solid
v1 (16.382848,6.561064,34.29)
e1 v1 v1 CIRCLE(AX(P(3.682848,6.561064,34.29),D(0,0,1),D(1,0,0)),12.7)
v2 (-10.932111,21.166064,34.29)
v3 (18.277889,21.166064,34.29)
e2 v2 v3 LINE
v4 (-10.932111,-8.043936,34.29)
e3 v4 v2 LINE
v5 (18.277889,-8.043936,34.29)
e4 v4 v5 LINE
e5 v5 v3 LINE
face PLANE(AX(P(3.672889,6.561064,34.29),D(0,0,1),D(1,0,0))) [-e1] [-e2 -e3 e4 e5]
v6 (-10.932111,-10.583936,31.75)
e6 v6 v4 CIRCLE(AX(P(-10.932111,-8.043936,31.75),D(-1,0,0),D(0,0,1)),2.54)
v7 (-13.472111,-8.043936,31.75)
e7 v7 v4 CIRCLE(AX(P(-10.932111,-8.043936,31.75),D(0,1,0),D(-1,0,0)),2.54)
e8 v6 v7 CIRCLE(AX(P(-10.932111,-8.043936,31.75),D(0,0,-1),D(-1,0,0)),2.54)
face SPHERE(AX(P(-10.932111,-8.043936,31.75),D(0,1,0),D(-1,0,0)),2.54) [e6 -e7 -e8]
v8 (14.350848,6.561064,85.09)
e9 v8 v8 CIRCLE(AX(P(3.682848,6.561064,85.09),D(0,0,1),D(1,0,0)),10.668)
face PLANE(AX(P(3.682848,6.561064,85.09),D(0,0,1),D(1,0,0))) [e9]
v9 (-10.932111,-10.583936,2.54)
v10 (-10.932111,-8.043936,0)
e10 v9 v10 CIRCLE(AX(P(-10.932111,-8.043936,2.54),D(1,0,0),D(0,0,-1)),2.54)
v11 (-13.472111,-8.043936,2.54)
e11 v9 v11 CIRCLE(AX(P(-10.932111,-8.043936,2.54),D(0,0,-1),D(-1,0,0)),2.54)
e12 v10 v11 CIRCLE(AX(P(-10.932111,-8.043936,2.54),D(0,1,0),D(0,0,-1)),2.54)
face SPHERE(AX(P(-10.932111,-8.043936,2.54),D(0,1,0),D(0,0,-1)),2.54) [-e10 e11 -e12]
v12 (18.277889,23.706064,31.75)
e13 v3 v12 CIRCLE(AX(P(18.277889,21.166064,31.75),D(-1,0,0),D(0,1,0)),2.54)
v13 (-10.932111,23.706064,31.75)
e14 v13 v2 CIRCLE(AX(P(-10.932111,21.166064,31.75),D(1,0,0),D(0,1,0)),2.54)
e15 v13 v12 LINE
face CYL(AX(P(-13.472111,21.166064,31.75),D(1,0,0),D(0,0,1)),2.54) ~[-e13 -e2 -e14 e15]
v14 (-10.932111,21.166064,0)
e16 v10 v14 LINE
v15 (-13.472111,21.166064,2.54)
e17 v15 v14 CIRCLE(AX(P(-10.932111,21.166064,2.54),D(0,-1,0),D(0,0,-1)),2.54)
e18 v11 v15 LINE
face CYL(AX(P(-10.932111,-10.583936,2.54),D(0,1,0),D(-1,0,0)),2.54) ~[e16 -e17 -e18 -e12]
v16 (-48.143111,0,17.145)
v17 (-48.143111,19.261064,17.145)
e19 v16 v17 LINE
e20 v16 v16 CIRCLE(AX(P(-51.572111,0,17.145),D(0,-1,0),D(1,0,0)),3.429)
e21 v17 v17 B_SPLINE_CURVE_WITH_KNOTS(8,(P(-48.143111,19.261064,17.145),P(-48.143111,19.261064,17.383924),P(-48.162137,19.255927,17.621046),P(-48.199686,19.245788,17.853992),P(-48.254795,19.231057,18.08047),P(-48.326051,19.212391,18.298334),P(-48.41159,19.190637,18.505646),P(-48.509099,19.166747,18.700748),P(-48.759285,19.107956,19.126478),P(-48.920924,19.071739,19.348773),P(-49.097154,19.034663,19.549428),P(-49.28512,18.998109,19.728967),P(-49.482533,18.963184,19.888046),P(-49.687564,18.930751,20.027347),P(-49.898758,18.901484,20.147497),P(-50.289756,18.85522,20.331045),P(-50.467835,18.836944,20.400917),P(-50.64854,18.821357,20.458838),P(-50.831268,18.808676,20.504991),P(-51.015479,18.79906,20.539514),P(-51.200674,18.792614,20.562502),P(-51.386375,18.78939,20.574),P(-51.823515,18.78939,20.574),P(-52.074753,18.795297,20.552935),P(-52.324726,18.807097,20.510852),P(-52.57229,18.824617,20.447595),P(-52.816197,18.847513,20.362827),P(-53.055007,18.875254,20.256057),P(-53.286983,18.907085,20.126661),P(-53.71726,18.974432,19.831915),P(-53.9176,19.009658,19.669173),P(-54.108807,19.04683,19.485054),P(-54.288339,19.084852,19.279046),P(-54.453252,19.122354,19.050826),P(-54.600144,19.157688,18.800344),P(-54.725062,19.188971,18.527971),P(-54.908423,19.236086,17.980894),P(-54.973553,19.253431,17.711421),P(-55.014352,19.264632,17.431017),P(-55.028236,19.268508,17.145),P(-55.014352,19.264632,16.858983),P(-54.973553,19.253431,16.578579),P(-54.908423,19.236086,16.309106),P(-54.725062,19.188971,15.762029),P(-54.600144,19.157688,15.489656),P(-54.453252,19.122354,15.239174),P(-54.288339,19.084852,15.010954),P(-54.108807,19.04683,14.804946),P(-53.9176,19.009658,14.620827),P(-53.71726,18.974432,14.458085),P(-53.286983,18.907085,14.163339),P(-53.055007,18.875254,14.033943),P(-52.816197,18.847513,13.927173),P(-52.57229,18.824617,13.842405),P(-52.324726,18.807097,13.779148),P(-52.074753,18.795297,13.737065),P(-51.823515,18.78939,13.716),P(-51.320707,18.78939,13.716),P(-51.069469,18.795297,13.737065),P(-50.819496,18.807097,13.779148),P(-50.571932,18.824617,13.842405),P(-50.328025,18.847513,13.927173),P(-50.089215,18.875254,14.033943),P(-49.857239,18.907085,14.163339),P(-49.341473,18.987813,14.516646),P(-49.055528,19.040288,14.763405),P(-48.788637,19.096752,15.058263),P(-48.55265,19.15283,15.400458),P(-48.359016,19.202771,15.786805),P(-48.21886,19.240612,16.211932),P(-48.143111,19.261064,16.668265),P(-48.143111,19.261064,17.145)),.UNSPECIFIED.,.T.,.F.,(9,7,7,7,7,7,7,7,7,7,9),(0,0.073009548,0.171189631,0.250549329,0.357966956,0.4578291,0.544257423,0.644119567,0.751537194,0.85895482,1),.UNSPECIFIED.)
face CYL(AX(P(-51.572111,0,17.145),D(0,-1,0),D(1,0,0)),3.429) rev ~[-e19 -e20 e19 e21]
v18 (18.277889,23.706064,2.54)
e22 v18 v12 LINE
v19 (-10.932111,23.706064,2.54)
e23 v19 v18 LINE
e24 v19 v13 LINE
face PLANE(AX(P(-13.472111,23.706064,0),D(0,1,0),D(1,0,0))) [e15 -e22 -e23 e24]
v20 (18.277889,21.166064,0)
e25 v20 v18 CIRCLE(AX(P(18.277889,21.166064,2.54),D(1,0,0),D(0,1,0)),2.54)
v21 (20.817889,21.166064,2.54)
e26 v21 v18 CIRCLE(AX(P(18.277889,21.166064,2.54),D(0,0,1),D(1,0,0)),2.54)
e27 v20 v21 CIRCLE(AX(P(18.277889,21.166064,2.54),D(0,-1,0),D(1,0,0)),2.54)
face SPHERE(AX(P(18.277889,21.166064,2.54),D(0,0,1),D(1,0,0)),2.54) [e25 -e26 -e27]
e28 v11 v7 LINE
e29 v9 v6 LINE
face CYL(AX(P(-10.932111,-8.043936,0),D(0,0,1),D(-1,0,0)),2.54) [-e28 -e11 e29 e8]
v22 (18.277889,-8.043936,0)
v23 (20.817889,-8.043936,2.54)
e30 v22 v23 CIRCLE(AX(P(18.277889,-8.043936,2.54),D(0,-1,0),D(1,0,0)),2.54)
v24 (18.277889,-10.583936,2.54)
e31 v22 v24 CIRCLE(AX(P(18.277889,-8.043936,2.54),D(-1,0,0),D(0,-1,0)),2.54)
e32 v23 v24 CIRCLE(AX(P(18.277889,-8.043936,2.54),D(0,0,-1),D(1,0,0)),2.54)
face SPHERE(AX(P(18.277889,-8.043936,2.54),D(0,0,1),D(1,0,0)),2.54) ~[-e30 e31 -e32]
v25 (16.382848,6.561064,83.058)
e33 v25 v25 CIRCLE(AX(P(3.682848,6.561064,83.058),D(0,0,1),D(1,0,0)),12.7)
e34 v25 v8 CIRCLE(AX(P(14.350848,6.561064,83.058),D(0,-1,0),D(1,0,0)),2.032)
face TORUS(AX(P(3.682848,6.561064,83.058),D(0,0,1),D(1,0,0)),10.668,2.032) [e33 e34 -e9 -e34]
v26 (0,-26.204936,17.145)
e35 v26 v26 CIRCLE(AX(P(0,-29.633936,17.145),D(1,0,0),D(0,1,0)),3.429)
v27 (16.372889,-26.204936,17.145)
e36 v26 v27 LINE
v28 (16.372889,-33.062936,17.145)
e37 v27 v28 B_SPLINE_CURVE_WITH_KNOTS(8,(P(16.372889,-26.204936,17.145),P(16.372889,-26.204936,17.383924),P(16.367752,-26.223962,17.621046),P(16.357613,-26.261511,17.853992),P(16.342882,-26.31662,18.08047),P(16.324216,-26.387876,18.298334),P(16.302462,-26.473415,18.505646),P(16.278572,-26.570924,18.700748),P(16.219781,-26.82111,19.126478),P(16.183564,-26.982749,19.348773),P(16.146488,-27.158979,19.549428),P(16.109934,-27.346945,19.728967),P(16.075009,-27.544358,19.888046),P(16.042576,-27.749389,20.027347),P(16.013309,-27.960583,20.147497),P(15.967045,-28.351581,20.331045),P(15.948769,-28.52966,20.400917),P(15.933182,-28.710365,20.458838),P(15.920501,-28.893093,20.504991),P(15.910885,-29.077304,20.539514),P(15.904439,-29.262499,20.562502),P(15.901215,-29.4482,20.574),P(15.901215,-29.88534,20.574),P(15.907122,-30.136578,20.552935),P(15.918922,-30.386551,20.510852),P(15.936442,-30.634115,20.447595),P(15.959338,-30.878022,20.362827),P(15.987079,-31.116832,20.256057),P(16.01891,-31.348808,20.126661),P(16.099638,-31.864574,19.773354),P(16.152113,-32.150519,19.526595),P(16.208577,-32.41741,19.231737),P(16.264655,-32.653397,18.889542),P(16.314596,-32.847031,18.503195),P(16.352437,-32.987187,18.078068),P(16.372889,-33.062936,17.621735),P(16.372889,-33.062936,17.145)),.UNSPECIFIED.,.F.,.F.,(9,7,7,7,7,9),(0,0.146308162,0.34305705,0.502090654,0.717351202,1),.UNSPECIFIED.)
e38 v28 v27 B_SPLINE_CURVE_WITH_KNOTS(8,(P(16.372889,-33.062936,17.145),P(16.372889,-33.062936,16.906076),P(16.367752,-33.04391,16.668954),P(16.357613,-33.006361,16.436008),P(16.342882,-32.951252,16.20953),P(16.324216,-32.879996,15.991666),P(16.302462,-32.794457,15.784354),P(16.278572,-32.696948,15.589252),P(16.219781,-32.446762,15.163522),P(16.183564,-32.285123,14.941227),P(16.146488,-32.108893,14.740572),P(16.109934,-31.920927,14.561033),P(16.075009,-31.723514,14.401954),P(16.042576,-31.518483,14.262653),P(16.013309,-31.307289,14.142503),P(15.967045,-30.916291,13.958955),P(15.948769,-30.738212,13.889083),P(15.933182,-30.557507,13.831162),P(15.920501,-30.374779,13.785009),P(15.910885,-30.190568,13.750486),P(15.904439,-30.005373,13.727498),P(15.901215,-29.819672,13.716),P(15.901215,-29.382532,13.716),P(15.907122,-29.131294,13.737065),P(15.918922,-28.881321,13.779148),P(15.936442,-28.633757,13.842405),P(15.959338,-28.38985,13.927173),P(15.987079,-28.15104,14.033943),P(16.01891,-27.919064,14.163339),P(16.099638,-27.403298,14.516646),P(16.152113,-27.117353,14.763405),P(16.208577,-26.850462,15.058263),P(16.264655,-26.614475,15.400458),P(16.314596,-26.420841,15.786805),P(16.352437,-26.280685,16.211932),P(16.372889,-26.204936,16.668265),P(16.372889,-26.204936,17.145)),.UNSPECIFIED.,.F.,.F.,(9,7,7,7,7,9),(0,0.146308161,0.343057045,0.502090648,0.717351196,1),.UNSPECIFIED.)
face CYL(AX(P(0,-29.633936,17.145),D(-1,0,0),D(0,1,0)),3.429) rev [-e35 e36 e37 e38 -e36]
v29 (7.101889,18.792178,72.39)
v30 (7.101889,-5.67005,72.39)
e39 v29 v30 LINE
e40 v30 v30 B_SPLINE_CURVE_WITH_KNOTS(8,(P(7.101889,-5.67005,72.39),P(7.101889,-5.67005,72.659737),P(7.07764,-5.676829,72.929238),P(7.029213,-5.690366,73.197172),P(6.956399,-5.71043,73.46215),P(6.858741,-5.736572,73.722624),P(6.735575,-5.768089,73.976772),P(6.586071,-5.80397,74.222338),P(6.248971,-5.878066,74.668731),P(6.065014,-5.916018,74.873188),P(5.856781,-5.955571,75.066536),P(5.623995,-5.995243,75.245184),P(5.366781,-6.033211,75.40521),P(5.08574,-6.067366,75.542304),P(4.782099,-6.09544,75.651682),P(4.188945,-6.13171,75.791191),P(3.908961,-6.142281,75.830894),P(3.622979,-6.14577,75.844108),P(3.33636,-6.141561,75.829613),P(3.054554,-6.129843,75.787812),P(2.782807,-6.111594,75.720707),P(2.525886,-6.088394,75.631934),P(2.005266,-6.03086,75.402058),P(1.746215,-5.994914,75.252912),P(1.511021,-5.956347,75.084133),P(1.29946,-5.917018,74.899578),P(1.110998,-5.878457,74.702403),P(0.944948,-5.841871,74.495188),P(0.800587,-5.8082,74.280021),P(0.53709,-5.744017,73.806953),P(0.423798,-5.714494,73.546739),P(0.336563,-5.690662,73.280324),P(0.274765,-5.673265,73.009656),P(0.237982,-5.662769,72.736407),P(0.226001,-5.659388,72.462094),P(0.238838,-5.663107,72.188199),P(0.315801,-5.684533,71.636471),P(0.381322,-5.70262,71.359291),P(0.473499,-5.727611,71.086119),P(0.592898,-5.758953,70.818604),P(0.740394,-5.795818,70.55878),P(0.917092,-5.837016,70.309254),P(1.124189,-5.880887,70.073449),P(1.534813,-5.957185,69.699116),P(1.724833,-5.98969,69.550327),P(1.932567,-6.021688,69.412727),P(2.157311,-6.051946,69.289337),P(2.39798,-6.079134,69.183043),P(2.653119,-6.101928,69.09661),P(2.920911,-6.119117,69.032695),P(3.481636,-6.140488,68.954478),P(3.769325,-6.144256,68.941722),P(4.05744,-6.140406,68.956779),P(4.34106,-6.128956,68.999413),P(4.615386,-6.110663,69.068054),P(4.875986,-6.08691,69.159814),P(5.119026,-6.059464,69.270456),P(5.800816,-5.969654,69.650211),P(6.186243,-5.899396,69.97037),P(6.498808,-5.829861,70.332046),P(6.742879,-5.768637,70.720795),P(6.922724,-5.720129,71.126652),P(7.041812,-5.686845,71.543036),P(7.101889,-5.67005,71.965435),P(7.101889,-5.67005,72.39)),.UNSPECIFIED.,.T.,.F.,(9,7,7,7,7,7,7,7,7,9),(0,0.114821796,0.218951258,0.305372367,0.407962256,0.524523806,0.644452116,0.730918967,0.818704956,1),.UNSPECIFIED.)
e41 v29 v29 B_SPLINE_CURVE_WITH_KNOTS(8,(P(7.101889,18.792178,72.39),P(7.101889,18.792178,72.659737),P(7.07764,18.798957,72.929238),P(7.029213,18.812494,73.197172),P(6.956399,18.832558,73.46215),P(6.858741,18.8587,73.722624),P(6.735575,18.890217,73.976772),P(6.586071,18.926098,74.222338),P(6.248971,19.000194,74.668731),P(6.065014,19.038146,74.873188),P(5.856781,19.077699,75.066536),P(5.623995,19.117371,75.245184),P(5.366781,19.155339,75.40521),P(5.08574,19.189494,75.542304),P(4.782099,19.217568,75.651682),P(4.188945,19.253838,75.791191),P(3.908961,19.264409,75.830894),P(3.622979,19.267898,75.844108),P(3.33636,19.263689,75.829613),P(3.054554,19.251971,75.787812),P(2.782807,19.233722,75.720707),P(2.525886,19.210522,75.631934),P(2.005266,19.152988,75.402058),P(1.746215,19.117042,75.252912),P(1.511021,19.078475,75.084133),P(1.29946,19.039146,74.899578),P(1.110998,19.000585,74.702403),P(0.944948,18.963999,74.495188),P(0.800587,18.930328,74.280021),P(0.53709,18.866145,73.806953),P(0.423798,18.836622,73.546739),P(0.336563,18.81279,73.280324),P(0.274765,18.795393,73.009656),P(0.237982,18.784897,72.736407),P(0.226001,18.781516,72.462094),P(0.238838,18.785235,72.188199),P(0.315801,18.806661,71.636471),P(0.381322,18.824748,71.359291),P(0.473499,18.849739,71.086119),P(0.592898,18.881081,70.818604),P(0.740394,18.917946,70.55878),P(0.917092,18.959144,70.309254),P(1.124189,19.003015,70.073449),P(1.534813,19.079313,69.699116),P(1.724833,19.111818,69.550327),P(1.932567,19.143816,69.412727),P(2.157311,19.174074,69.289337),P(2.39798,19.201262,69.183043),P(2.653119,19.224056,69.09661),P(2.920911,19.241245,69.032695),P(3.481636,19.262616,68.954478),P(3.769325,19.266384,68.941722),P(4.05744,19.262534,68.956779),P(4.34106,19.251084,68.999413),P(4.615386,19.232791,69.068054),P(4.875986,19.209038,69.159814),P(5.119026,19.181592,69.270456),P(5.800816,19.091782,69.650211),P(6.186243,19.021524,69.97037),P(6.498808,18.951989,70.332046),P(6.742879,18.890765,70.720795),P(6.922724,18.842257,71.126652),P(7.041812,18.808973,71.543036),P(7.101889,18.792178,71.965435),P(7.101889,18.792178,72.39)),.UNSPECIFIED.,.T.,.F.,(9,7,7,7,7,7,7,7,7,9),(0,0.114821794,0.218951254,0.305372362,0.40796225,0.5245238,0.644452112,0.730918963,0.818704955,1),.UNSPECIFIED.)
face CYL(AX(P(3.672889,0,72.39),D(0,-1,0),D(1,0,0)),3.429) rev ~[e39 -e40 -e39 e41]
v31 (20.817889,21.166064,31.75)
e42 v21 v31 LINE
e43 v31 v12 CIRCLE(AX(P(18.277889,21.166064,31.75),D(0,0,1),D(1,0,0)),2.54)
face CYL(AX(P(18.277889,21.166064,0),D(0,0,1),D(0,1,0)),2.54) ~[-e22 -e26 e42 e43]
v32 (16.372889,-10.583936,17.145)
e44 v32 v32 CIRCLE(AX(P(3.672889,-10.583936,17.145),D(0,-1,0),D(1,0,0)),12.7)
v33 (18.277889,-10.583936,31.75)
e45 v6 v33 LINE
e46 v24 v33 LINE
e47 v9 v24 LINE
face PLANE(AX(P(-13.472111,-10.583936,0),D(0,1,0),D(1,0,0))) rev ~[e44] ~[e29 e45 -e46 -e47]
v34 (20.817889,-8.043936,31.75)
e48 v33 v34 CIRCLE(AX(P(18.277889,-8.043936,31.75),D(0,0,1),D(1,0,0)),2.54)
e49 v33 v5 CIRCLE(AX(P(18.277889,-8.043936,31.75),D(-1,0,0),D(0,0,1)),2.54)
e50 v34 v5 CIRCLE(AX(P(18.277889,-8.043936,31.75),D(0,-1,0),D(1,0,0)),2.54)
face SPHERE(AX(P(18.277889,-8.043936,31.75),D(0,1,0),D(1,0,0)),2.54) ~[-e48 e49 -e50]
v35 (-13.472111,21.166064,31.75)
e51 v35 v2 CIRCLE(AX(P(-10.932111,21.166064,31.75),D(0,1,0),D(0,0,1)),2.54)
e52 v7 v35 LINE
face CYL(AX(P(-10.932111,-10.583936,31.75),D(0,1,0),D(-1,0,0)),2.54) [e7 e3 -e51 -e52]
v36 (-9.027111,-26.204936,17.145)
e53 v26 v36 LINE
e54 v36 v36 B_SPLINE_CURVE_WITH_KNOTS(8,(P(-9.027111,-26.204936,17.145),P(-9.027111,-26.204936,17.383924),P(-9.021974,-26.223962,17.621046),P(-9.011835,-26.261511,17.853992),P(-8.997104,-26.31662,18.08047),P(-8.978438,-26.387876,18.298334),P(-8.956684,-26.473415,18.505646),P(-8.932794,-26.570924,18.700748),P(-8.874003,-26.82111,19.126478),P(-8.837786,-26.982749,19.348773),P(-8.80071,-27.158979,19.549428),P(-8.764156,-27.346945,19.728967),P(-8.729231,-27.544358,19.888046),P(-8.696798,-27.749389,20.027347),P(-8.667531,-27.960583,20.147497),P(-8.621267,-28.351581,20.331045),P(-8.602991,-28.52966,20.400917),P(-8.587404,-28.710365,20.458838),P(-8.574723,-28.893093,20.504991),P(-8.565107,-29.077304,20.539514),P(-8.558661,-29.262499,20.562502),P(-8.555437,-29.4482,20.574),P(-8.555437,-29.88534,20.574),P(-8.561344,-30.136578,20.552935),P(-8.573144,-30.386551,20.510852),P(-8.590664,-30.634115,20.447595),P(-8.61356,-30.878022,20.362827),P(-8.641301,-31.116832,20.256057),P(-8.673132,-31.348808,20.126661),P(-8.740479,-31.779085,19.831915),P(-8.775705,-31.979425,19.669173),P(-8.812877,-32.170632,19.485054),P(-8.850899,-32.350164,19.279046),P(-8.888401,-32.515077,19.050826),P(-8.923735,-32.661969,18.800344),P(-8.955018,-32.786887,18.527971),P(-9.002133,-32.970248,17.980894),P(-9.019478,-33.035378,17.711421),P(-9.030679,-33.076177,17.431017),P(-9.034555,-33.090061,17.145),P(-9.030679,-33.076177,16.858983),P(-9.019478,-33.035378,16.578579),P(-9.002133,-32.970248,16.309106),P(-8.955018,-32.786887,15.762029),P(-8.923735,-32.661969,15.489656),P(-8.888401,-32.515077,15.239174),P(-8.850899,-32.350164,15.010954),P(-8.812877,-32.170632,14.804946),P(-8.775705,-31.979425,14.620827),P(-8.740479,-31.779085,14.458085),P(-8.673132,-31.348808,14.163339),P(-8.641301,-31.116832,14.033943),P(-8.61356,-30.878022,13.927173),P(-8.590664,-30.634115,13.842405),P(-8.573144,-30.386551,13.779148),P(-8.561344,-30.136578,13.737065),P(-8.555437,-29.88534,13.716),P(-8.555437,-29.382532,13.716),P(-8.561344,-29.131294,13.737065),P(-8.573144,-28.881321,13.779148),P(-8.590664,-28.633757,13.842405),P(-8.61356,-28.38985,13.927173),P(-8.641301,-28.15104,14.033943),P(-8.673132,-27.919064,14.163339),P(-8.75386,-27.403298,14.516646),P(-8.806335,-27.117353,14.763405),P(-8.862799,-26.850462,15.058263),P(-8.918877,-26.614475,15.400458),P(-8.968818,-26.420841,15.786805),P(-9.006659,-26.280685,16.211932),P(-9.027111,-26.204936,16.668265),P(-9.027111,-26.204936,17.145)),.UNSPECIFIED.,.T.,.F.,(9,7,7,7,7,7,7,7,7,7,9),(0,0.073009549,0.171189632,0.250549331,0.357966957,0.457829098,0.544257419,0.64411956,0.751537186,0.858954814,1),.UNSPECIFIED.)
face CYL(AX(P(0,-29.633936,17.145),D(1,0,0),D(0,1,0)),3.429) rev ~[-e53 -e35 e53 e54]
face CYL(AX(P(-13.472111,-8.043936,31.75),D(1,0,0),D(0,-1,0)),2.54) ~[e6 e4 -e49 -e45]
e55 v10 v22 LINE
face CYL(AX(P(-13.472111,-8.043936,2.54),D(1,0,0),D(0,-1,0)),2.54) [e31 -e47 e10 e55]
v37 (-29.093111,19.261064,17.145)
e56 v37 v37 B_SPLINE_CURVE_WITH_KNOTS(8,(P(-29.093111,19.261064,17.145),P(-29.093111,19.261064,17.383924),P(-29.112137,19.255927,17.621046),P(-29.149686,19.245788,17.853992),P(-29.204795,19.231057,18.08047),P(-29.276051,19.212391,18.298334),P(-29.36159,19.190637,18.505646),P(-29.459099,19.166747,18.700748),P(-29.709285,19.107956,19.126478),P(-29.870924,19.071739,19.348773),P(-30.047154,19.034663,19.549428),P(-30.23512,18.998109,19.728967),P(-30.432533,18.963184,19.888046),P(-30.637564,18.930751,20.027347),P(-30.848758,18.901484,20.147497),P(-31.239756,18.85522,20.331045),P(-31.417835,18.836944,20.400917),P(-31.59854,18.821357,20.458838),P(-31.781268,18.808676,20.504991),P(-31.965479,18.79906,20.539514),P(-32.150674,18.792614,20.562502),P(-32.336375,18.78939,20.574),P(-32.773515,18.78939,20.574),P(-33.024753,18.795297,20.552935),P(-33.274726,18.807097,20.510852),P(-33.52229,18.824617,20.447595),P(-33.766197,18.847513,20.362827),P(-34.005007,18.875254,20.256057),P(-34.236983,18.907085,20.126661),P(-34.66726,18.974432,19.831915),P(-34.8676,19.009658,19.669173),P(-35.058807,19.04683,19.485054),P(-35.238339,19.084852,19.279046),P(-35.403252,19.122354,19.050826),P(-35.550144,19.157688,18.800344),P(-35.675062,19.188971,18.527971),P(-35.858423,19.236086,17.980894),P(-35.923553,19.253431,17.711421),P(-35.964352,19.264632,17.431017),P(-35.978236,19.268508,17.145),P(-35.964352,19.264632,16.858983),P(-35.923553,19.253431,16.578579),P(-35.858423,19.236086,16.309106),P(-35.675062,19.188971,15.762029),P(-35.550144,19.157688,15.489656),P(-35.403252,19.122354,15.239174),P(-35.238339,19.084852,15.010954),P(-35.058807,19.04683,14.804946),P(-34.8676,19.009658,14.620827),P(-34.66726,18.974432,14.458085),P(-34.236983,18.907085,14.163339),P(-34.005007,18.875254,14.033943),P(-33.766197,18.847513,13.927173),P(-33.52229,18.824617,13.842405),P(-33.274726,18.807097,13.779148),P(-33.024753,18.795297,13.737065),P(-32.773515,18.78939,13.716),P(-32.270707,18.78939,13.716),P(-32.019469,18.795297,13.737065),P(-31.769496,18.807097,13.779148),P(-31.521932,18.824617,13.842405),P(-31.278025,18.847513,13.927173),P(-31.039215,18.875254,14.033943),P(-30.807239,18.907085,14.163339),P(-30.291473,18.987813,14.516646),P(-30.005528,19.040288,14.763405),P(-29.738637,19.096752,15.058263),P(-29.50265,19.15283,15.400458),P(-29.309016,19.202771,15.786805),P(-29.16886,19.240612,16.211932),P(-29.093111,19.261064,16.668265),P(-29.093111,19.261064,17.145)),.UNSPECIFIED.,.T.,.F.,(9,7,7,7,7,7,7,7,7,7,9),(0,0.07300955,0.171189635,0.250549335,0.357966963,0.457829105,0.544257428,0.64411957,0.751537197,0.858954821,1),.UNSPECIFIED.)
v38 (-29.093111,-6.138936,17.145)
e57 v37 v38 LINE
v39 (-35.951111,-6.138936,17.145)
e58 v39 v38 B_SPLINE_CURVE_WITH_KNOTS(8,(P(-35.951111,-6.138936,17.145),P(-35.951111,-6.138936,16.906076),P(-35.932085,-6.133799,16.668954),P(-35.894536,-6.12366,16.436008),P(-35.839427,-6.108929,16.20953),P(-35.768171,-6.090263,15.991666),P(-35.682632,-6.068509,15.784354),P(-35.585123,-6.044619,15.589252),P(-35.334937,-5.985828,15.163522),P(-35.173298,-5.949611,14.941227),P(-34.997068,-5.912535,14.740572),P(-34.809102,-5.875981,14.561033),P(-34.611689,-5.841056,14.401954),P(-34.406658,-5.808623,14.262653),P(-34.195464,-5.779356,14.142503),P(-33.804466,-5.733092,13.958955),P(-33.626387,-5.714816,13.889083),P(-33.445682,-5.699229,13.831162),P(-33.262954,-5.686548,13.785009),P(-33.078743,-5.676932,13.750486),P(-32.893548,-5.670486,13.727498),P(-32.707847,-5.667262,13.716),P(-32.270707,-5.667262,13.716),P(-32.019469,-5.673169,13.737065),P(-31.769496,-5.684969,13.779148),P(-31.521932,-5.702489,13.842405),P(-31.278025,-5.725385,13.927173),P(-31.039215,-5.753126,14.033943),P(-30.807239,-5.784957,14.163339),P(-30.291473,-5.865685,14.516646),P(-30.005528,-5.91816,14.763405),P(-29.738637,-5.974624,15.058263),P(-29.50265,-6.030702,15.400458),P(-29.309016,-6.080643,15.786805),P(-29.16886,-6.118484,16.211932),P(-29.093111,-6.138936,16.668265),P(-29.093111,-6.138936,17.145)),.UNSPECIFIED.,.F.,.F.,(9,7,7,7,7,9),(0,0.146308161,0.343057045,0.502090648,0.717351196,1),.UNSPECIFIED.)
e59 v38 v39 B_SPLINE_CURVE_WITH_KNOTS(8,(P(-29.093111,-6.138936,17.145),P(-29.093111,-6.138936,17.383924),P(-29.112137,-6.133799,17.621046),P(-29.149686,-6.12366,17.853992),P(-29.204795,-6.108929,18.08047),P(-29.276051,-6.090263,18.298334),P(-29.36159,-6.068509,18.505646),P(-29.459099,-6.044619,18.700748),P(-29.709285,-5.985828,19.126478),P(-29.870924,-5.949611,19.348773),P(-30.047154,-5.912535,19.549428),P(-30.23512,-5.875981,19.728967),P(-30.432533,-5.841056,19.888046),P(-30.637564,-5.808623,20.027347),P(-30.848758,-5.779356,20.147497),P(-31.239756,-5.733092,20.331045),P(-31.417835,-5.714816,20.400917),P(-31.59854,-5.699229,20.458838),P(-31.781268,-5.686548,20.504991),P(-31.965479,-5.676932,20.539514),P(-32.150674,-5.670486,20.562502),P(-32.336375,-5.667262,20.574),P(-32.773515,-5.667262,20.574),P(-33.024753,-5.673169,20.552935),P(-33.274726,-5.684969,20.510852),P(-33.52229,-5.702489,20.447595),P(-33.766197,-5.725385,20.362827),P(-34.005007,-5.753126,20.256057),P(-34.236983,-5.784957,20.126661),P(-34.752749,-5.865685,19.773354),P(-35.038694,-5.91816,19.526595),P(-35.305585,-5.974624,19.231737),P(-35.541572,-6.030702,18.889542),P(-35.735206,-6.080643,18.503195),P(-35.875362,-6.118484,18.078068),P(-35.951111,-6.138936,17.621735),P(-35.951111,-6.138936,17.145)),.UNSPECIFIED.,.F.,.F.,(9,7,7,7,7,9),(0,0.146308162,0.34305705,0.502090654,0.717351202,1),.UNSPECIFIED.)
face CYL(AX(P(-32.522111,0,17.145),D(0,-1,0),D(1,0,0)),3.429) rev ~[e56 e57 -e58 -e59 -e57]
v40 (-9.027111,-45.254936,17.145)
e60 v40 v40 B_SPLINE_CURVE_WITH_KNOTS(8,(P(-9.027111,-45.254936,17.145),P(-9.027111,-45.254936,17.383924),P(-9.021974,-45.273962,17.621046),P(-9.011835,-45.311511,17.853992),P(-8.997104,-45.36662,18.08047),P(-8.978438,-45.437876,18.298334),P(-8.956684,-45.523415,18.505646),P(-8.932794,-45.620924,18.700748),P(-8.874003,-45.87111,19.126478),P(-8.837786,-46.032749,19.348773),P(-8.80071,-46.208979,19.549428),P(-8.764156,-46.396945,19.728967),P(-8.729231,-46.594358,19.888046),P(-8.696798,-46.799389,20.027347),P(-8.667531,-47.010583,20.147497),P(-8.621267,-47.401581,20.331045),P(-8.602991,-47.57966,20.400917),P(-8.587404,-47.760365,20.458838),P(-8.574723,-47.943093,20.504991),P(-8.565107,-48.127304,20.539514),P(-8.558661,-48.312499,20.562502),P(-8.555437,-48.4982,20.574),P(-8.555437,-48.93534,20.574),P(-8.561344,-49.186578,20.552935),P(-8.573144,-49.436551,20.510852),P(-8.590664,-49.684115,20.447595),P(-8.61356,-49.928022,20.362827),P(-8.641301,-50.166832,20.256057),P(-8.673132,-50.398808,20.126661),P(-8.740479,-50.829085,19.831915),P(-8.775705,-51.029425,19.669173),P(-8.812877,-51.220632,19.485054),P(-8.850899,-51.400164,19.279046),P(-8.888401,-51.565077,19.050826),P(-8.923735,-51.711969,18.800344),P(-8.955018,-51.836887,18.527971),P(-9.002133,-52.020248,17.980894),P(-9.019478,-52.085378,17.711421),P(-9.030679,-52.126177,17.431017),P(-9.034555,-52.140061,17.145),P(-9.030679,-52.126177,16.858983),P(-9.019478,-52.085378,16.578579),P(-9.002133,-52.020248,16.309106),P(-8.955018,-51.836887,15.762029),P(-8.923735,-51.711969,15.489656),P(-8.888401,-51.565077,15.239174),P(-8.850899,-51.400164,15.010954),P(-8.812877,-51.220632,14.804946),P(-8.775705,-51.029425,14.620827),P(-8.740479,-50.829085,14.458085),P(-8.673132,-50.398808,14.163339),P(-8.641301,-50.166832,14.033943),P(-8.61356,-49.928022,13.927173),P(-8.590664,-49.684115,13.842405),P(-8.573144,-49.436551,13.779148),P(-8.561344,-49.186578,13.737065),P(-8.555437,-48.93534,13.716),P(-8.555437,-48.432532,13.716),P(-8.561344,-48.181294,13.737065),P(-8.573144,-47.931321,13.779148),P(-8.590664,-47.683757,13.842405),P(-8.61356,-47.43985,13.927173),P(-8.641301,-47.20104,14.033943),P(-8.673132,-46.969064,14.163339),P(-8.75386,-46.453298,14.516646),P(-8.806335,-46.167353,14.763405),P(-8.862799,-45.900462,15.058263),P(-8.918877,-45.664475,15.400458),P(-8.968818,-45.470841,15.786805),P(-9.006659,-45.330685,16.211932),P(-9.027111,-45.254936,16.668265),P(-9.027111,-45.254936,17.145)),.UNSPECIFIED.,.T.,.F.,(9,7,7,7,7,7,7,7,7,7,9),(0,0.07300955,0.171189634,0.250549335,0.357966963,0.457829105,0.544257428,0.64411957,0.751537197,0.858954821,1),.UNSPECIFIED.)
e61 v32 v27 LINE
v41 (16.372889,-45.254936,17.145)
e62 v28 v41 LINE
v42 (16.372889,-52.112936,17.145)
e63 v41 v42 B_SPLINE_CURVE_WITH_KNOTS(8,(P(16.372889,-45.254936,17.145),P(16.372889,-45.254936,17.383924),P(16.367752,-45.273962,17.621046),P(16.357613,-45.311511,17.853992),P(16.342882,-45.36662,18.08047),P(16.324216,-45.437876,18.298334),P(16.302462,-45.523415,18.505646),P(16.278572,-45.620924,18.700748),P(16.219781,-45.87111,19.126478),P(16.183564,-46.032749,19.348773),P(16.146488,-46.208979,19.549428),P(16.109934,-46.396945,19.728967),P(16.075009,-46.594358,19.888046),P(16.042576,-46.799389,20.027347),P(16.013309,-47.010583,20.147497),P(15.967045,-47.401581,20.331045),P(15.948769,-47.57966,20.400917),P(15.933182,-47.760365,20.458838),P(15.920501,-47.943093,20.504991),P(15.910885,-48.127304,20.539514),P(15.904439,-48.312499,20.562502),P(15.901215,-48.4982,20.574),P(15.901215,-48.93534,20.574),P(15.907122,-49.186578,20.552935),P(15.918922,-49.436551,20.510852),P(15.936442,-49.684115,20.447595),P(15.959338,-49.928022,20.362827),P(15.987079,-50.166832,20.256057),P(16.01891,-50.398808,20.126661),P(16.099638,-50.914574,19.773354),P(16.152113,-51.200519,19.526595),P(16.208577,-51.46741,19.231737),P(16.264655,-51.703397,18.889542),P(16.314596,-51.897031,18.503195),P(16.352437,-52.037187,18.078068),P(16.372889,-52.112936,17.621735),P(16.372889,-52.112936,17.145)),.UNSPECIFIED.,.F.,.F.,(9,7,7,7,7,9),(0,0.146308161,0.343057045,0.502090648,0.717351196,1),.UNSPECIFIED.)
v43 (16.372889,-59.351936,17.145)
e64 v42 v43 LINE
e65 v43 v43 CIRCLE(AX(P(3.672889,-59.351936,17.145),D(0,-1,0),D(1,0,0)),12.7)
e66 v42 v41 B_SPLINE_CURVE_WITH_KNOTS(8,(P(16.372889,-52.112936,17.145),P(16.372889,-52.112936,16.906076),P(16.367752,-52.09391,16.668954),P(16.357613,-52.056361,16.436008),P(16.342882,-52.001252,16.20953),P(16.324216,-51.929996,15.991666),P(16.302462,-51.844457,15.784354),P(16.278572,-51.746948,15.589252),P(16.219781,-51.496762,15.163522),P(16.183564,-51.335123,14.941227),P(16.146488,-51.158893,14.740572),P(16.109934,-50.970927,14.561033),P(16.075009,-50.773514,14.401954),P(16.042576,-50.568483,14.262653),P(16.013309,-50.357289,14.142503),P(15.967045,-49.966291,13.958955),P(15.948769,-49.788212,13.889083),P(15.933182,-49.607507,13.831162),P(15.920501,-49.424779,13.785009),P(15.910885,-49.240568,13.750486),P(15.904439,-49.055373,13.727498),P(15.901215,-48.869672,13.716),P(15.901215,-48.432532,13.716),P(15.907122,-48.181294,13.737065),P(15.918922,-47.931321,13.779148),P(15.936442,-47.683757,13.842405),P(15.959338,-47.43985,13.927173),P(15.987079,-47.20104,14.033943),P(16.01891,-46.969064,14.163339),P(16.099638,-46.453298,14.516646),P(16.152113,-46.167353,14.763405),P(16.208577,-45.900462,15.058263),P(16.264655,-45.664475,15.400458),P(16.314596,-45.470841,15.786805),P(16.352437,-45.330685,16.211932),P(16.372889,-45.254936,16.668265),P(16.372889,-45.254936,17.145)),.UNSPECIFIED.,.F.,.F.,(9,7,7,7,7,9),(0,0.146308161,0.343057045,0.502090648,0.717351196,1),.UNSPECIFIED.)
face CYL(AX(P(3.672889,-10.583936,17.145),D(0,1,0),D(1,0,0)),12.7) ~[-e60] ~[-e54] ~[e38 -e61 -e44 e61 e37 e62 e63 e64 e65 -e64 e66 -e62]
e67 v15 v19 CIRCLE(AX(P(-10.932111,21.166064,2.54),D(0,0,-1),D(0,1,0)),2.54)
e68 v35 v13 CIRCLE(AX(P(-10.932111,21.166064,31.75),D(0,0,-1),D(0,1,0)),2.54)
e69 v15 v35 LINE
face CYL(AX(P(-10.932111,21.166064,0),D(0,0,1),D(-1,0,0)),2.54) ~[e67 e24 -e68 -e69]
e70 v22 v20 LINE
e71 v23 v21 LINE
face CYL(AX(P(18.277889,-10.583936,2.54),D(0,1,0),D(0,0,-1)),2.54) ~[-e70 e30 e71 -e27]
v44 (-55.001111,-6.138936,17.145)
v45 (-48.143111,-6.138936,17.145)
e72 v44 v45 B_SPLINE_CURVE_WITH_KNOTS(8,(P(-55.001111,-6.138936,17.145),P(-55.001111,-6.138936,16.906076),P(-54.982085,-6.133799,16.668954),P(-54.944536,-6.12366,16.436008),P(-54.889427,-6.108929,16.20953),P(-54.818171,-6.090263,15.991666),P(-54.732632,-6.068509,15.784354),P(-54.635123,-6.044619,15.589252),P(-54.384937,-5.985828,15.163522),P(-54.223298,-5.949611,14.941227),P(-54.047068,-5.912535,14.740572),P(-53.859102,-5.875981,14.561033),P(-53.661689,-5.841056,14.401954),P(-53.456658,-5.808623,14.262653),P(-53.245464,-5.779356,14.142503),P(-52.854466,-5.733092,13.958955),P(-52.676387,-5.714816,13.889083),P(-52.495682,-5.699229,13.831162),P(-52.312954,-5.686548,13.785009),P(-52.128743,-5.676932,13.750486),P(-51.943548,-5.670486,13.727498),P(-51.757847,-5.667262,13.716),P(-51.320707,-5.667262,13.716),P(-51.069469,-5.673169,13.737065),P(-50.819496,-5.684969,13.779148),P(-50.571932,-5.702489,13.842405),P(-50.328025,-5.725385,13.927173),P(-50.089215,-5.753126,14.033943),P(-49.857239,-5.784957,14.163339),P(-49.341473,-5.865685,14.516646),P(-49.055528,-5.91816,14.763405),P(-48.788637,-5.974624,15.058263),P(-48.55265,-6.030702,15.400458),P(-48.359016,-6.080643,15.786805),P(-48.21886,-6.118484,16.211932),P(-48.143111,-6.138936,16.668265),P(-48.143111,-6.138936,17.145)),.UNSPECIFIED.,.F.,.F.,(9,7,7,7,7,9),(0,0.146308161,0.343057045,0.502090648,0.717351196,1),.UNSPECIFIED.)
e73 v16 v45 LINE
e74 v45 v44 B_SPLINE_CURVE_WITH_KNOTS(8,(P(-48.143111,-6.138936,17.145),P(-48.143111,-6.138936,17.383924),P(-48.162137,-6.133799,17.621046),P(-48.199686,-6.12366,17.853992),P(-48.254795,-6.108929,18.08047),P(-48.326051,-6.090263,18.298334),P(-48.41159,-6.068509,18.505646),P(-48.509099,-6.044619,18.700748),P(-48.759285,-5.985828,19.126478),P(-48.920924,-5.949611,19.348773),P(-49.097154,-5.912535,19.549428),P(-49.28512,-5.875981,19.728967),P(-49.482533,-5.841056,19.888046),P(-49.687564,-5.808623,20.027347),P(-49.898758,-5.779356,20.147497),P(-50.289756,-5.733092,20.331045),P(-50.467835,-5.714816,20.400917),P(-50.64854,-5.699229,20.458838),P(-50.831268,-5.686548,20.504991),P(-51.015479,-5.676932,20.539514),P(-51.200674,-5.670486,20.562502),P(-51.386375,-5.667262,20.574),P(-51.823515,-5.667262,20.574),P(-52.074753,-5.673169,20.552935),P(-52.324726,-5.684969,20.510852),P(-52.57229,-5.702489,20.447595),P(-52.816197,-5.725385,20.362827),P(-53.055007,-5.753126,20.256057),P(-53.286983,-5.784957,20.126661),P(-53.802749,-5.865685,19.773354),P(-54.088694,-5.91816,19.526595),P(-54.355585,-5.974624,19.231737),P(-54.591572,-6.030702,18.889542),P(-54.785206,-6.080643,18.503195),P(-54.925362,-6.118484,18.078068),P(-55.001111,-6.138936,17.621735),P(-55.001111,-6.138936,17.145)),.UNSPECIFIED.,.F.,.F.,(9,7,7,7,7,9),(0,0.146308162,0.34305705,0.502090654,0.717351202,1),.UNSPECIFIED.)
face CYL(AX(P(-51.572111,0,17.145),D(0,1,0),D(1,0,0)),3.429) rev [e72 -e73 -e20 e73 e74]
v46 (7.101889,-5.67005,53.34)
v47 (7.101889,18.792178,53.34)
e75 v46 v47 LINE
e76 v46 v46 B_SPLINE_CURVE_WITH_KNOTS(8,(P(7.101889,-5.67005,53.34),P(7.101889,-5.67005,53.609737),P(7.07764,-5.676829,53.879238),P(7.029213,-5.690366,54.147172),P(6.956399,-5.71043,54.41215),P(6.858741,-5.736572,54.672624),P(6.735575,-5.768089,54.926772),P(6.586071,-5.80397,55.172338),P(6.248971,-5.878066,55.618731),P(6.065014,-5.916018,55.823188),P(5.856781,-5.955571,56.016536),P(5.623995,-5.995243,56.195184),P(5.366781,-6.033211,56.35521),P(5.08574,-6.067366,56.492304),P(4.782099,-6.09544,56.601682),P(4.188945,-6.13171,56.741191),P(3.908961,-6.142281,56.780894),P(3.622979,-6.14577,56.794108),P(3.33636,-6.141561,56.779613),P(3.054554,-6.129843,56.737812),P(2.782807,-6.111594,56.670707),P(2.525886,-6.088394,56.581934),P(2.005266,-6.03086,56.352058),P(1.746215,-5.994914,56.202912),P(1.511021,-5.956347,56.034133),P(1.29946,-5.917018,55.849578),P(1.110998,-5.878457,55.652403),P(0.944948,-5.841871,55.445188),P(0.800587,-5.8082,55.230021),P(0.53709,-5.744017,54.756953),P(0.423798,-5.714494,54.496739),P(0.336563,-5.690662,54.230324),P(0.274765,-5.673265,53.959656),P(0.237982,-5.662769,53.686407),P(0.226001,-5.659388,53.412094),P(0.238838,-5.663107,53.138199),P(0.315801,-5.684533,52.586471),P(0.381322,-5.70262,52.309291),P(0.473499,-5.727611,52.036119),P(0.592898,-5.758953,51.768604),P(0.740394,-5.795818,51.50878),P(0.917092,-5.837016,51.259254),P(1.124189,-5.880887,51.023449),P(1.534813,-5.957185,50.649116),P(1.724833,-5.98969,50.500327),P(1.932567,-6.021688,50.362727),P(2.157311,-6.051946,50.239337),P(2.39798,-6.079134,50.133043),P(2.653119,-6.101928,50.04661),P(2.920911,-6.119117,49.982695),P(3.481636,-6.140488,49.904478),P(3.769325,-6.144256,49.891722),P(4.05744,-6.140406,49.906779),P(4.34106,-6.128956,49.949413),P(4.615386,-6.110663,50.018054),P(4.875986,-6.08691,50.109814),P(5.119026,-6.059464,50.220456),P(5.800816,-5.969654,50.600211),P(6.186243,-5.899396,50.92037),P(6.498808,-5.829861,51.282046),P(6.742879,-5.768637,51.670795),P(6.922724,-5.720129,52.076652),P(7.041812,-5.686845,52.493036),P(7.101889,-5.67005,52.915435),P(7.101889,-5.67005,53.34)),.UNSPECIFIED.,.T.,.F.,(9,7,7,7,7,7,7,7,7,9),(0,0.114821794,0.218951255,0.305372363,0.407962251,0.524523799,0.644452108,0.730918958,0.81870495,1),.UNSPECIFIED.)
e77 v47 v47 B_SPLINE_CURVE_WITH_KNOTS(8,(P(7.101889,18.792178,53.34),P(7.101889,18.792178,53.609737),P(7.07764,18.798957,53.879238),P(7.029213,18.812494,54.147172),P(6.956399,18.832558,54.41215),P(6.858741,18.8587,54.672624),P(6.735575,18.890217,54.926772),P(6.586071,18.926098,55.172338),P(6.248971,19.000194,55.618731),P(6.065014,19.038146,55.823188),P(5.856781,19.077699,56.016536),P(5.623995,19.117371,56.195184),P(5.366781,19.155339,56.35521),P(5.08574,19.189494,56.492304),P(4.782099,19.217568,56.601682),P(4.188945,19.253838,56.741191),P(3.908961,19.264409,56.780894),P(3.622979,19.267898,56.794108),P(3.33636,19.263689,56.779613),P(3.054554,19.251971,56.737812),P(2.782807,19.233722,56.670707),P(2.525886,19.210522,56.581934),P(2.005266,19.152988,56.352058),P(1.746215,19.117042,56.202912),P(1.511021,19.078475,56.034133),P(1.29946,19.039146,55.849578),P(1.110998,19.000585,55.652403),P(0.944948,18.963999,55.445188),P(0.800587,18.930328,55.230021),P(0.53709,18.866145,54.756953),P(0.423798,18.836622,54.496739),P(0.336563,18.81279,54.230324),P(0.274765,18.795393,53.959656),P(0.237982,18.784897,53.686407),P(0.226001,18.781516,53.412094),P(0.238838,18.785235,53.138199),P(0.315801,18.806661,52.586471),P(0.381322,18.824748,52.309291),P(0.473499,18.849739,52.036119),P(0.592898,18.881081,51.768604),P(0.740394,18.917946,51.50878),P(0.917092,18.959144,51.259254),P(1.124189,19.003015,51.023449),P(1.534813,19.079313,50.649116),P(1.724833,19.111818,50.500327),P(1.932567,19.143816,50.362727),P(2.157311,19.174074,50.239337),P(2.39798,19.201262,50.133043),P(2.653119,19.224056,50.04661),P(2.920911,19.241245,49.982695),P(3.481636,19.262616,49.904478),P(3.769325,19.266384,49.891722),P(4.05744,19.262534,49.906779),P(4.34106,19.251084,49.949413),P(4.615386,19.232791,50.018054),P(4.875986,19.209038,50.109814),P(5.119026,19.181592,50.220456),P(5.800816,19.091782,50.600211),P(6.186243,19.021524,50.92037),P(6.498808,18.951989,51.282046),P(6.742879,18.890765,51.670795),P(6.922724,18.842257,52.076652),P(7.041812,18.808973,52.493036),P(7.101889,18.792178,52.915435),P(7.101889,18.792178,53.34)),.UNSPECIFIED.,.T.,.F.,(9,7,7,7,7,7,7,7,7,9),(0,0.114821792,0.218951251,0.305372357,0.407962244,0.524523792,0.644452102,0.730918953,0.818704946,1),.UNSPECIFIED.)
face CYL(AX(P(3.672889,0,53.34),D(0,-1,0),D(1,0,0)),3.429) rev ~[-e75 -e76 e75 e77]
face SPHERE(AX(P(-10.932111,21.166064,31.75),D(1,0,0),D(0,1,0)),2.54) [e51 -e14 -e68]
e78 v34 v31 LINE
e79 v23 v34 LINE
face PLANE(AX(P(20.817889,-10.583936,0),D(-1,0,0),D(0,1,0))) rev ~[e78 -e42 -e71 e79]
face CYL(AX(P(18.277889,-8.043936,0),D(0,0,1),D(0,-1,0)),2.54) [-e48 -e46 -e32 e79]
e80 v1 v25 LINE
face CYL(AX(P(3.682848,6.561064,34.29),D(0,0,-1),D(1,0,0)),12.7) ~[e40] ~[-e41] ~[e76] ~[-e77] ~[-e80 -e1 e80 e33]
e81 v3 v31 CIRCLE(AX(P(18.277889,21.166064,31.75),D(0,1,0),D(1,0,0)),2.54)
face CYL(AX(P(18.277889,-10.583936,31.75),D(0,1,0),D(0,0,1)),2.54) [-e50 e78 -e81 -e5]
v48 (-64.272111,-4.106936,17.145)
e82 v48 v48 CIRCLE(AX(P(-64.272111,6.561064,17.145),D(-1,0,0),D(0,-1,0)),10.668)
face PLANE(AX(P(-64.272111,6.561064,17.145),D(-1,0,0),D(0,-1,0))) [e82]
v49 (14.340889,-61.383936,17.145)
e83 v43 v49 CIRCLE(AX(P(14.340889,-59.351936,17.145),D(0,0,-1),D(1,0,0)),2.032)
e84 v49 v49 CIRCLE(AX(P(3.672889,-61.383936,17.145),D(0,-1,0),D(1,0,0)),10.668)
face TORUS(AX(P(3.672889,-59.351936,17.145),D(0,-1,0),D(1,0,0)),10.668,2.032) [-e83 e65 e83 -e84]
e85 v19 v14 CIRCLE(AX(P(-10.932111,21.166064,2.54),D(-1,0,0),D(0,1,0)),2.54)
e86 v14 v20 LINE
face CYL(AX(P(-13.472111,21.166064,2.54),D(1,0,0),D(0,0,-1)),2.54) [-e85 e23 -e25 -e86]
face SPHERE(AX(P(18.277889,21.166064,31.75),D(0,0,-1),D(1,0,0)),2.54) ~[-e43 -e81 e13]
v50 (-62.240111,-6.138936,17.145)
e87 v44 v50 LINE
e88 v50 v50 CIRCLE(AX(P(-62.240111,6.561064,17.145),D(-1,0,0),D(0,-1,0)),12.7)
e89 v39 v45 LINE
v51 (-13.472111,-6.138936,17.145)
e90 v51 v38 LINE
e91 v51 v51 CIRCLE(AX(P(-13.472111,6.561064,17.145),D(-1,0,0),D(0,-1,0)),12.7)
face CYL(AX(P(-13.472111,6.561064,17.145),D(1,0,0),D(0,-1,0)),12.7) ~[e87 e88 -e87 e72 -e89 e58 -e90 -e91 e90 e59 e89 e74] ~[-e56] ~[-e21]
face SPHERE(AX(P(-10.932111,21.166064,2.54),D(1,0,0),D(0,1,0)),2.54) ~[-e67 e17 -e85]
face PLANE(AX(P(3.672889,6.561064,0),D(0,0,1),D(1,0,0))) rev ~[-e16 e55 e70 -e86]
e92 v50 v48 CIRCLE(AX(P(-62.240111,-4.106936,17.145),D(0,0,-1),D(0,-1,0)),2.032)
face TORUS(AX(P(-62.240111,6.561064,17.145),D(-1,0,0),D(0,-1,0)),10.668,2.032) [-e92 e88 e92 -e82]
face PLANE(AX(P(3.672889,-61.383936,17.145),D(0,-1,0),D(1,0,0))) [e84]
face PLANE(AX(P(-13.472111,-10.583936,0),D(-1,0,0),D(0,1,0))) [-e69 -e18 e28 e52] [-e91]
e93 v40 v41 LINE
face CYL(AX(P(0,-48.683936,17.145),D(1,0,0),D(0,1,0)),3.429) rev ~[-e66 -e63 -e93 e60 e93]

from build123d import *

# Parameters (mm, degrees)
F0_W      = 34.29
F0_H      = 34.29
F1_DEPTH  = 34.29
F2_R      = 12.7
F3_DEPTH  = 50.8
F4_R      = 12.7
F5_DEPTH  = 50.8
F6_R      = 12.7
F7_DEPTH  = 50.8
F8_R      = 3.429
F9_DEPTH  = 25.4
F10_R     = 3.429
F11_DEPTH = 25.4
F12_R     = 3.429
F13_DEPTH = 25.4
F14_R     = 2.032
F15_R     = 2.54


with BuildPart() as f1:
    # F0 (on Top) → F1 (new body)
    with BuildSketch(Plane.XY):
        with Locations((3.672889, 6.561064)):
            Rectangle(F0_W, F0_H)
    extrude(amount=F1_DEPTH)

    # F2 (on face) → F3 (join)
    with BuildSketch(Plane.XY.offset(34.29)):
        with Locations((3.682848, 6.561064)):
            Circle(F2_R)
    extrude(amount=F3_DEPTH)

    # F4 (on face) → F5 (join)
    with BuildSketch(Plane(origin=(-13.472111, 0, 0), x_dir=(0, -1, 0), z_dir=(-1, 0, 0))):
        with Locations((-6.561064, 17.145)):
            Circle(F4_R)
    extrude(amount=F5_DEPTH)

    # F6 (on face) → F7 (join)
    with BuildSketch(Plane.XZ.offset(10.583936)):
        with Locations((3.672889, 17.145)):
            Circle(F6_R)
    extrude(amount=F7_DEPTH)

    # F8 (on Front) → F9 (cut, symmetric)
    with BuildSketch(Plane.XZ):
        with Locations((3.672889, 53.34)):
            Circle(F8_R)
        with Locations((3.672889, 72.39)):
            Circle(F8_R)
    extrude(amount=F9_DEPTH, both=True, mode=Mode.SUBTRACT)

    # F10 (on Right) → F11 (cut, symmetric)
    with BuildSketch(Plane.YZ):
        with Locations((-29.633936, 17.145)):
            Circle(F10_R)
        with Locations((-48.683936, 17.145)):
            Circle(F10_R)
    extrude(amount=F11_DEPTH, both=True, mode=Mode.SUBTRACT)

    # F12 (on Front) → F13 (cut, symmetric)
    with BuildSketch(Plane.XZ):
        with Locations((-51.572111, 17.145)):
            Circle(F12_R)
        with Locations((-32.522111, 17.145)):
            Circle(F12_R)
    extrude(amount=F13_DEPTH, both=True, mode=Mode.SUBTRACT)

    # F14
    f14_edges = [f1.edges().sort_by_distance(p)[0] for p in [
        (-9.017152, 6.561064, 85.09),
        (-9.027111, -61.383936, 17.145),
        (-64.272111, 19.261064, 17.145),
    ]]
    fillet(f14_edges, radius=F14_R)

    # F15
    f15_edges = [f1.edges().sort_by_distance(p)[0] for p in [
        (20.817889, 23.706064, 17.145),
        (20.817889, 6.561064, 34.29),
        (20.817889, -10.583936, 17.145),
        (20.817889, 6.561064, 0),
        (3.672889, 23.706064, 0),
        (3.672889, 23.706064, 34.29),
        (-13.472111, 23.706064, 17.145),
        (-13.472111, 6.561064, 0),
        (3.672889, -10.583936, 0),
        (-13.472111, 6.561064, 34.29),
        (-13.472111, -10.583936, 17.145),
        (3.672889, -10.583936, 34.29),
    ]]
    fillet(f15_edges, radius=F15_R)


solid = f1.part
